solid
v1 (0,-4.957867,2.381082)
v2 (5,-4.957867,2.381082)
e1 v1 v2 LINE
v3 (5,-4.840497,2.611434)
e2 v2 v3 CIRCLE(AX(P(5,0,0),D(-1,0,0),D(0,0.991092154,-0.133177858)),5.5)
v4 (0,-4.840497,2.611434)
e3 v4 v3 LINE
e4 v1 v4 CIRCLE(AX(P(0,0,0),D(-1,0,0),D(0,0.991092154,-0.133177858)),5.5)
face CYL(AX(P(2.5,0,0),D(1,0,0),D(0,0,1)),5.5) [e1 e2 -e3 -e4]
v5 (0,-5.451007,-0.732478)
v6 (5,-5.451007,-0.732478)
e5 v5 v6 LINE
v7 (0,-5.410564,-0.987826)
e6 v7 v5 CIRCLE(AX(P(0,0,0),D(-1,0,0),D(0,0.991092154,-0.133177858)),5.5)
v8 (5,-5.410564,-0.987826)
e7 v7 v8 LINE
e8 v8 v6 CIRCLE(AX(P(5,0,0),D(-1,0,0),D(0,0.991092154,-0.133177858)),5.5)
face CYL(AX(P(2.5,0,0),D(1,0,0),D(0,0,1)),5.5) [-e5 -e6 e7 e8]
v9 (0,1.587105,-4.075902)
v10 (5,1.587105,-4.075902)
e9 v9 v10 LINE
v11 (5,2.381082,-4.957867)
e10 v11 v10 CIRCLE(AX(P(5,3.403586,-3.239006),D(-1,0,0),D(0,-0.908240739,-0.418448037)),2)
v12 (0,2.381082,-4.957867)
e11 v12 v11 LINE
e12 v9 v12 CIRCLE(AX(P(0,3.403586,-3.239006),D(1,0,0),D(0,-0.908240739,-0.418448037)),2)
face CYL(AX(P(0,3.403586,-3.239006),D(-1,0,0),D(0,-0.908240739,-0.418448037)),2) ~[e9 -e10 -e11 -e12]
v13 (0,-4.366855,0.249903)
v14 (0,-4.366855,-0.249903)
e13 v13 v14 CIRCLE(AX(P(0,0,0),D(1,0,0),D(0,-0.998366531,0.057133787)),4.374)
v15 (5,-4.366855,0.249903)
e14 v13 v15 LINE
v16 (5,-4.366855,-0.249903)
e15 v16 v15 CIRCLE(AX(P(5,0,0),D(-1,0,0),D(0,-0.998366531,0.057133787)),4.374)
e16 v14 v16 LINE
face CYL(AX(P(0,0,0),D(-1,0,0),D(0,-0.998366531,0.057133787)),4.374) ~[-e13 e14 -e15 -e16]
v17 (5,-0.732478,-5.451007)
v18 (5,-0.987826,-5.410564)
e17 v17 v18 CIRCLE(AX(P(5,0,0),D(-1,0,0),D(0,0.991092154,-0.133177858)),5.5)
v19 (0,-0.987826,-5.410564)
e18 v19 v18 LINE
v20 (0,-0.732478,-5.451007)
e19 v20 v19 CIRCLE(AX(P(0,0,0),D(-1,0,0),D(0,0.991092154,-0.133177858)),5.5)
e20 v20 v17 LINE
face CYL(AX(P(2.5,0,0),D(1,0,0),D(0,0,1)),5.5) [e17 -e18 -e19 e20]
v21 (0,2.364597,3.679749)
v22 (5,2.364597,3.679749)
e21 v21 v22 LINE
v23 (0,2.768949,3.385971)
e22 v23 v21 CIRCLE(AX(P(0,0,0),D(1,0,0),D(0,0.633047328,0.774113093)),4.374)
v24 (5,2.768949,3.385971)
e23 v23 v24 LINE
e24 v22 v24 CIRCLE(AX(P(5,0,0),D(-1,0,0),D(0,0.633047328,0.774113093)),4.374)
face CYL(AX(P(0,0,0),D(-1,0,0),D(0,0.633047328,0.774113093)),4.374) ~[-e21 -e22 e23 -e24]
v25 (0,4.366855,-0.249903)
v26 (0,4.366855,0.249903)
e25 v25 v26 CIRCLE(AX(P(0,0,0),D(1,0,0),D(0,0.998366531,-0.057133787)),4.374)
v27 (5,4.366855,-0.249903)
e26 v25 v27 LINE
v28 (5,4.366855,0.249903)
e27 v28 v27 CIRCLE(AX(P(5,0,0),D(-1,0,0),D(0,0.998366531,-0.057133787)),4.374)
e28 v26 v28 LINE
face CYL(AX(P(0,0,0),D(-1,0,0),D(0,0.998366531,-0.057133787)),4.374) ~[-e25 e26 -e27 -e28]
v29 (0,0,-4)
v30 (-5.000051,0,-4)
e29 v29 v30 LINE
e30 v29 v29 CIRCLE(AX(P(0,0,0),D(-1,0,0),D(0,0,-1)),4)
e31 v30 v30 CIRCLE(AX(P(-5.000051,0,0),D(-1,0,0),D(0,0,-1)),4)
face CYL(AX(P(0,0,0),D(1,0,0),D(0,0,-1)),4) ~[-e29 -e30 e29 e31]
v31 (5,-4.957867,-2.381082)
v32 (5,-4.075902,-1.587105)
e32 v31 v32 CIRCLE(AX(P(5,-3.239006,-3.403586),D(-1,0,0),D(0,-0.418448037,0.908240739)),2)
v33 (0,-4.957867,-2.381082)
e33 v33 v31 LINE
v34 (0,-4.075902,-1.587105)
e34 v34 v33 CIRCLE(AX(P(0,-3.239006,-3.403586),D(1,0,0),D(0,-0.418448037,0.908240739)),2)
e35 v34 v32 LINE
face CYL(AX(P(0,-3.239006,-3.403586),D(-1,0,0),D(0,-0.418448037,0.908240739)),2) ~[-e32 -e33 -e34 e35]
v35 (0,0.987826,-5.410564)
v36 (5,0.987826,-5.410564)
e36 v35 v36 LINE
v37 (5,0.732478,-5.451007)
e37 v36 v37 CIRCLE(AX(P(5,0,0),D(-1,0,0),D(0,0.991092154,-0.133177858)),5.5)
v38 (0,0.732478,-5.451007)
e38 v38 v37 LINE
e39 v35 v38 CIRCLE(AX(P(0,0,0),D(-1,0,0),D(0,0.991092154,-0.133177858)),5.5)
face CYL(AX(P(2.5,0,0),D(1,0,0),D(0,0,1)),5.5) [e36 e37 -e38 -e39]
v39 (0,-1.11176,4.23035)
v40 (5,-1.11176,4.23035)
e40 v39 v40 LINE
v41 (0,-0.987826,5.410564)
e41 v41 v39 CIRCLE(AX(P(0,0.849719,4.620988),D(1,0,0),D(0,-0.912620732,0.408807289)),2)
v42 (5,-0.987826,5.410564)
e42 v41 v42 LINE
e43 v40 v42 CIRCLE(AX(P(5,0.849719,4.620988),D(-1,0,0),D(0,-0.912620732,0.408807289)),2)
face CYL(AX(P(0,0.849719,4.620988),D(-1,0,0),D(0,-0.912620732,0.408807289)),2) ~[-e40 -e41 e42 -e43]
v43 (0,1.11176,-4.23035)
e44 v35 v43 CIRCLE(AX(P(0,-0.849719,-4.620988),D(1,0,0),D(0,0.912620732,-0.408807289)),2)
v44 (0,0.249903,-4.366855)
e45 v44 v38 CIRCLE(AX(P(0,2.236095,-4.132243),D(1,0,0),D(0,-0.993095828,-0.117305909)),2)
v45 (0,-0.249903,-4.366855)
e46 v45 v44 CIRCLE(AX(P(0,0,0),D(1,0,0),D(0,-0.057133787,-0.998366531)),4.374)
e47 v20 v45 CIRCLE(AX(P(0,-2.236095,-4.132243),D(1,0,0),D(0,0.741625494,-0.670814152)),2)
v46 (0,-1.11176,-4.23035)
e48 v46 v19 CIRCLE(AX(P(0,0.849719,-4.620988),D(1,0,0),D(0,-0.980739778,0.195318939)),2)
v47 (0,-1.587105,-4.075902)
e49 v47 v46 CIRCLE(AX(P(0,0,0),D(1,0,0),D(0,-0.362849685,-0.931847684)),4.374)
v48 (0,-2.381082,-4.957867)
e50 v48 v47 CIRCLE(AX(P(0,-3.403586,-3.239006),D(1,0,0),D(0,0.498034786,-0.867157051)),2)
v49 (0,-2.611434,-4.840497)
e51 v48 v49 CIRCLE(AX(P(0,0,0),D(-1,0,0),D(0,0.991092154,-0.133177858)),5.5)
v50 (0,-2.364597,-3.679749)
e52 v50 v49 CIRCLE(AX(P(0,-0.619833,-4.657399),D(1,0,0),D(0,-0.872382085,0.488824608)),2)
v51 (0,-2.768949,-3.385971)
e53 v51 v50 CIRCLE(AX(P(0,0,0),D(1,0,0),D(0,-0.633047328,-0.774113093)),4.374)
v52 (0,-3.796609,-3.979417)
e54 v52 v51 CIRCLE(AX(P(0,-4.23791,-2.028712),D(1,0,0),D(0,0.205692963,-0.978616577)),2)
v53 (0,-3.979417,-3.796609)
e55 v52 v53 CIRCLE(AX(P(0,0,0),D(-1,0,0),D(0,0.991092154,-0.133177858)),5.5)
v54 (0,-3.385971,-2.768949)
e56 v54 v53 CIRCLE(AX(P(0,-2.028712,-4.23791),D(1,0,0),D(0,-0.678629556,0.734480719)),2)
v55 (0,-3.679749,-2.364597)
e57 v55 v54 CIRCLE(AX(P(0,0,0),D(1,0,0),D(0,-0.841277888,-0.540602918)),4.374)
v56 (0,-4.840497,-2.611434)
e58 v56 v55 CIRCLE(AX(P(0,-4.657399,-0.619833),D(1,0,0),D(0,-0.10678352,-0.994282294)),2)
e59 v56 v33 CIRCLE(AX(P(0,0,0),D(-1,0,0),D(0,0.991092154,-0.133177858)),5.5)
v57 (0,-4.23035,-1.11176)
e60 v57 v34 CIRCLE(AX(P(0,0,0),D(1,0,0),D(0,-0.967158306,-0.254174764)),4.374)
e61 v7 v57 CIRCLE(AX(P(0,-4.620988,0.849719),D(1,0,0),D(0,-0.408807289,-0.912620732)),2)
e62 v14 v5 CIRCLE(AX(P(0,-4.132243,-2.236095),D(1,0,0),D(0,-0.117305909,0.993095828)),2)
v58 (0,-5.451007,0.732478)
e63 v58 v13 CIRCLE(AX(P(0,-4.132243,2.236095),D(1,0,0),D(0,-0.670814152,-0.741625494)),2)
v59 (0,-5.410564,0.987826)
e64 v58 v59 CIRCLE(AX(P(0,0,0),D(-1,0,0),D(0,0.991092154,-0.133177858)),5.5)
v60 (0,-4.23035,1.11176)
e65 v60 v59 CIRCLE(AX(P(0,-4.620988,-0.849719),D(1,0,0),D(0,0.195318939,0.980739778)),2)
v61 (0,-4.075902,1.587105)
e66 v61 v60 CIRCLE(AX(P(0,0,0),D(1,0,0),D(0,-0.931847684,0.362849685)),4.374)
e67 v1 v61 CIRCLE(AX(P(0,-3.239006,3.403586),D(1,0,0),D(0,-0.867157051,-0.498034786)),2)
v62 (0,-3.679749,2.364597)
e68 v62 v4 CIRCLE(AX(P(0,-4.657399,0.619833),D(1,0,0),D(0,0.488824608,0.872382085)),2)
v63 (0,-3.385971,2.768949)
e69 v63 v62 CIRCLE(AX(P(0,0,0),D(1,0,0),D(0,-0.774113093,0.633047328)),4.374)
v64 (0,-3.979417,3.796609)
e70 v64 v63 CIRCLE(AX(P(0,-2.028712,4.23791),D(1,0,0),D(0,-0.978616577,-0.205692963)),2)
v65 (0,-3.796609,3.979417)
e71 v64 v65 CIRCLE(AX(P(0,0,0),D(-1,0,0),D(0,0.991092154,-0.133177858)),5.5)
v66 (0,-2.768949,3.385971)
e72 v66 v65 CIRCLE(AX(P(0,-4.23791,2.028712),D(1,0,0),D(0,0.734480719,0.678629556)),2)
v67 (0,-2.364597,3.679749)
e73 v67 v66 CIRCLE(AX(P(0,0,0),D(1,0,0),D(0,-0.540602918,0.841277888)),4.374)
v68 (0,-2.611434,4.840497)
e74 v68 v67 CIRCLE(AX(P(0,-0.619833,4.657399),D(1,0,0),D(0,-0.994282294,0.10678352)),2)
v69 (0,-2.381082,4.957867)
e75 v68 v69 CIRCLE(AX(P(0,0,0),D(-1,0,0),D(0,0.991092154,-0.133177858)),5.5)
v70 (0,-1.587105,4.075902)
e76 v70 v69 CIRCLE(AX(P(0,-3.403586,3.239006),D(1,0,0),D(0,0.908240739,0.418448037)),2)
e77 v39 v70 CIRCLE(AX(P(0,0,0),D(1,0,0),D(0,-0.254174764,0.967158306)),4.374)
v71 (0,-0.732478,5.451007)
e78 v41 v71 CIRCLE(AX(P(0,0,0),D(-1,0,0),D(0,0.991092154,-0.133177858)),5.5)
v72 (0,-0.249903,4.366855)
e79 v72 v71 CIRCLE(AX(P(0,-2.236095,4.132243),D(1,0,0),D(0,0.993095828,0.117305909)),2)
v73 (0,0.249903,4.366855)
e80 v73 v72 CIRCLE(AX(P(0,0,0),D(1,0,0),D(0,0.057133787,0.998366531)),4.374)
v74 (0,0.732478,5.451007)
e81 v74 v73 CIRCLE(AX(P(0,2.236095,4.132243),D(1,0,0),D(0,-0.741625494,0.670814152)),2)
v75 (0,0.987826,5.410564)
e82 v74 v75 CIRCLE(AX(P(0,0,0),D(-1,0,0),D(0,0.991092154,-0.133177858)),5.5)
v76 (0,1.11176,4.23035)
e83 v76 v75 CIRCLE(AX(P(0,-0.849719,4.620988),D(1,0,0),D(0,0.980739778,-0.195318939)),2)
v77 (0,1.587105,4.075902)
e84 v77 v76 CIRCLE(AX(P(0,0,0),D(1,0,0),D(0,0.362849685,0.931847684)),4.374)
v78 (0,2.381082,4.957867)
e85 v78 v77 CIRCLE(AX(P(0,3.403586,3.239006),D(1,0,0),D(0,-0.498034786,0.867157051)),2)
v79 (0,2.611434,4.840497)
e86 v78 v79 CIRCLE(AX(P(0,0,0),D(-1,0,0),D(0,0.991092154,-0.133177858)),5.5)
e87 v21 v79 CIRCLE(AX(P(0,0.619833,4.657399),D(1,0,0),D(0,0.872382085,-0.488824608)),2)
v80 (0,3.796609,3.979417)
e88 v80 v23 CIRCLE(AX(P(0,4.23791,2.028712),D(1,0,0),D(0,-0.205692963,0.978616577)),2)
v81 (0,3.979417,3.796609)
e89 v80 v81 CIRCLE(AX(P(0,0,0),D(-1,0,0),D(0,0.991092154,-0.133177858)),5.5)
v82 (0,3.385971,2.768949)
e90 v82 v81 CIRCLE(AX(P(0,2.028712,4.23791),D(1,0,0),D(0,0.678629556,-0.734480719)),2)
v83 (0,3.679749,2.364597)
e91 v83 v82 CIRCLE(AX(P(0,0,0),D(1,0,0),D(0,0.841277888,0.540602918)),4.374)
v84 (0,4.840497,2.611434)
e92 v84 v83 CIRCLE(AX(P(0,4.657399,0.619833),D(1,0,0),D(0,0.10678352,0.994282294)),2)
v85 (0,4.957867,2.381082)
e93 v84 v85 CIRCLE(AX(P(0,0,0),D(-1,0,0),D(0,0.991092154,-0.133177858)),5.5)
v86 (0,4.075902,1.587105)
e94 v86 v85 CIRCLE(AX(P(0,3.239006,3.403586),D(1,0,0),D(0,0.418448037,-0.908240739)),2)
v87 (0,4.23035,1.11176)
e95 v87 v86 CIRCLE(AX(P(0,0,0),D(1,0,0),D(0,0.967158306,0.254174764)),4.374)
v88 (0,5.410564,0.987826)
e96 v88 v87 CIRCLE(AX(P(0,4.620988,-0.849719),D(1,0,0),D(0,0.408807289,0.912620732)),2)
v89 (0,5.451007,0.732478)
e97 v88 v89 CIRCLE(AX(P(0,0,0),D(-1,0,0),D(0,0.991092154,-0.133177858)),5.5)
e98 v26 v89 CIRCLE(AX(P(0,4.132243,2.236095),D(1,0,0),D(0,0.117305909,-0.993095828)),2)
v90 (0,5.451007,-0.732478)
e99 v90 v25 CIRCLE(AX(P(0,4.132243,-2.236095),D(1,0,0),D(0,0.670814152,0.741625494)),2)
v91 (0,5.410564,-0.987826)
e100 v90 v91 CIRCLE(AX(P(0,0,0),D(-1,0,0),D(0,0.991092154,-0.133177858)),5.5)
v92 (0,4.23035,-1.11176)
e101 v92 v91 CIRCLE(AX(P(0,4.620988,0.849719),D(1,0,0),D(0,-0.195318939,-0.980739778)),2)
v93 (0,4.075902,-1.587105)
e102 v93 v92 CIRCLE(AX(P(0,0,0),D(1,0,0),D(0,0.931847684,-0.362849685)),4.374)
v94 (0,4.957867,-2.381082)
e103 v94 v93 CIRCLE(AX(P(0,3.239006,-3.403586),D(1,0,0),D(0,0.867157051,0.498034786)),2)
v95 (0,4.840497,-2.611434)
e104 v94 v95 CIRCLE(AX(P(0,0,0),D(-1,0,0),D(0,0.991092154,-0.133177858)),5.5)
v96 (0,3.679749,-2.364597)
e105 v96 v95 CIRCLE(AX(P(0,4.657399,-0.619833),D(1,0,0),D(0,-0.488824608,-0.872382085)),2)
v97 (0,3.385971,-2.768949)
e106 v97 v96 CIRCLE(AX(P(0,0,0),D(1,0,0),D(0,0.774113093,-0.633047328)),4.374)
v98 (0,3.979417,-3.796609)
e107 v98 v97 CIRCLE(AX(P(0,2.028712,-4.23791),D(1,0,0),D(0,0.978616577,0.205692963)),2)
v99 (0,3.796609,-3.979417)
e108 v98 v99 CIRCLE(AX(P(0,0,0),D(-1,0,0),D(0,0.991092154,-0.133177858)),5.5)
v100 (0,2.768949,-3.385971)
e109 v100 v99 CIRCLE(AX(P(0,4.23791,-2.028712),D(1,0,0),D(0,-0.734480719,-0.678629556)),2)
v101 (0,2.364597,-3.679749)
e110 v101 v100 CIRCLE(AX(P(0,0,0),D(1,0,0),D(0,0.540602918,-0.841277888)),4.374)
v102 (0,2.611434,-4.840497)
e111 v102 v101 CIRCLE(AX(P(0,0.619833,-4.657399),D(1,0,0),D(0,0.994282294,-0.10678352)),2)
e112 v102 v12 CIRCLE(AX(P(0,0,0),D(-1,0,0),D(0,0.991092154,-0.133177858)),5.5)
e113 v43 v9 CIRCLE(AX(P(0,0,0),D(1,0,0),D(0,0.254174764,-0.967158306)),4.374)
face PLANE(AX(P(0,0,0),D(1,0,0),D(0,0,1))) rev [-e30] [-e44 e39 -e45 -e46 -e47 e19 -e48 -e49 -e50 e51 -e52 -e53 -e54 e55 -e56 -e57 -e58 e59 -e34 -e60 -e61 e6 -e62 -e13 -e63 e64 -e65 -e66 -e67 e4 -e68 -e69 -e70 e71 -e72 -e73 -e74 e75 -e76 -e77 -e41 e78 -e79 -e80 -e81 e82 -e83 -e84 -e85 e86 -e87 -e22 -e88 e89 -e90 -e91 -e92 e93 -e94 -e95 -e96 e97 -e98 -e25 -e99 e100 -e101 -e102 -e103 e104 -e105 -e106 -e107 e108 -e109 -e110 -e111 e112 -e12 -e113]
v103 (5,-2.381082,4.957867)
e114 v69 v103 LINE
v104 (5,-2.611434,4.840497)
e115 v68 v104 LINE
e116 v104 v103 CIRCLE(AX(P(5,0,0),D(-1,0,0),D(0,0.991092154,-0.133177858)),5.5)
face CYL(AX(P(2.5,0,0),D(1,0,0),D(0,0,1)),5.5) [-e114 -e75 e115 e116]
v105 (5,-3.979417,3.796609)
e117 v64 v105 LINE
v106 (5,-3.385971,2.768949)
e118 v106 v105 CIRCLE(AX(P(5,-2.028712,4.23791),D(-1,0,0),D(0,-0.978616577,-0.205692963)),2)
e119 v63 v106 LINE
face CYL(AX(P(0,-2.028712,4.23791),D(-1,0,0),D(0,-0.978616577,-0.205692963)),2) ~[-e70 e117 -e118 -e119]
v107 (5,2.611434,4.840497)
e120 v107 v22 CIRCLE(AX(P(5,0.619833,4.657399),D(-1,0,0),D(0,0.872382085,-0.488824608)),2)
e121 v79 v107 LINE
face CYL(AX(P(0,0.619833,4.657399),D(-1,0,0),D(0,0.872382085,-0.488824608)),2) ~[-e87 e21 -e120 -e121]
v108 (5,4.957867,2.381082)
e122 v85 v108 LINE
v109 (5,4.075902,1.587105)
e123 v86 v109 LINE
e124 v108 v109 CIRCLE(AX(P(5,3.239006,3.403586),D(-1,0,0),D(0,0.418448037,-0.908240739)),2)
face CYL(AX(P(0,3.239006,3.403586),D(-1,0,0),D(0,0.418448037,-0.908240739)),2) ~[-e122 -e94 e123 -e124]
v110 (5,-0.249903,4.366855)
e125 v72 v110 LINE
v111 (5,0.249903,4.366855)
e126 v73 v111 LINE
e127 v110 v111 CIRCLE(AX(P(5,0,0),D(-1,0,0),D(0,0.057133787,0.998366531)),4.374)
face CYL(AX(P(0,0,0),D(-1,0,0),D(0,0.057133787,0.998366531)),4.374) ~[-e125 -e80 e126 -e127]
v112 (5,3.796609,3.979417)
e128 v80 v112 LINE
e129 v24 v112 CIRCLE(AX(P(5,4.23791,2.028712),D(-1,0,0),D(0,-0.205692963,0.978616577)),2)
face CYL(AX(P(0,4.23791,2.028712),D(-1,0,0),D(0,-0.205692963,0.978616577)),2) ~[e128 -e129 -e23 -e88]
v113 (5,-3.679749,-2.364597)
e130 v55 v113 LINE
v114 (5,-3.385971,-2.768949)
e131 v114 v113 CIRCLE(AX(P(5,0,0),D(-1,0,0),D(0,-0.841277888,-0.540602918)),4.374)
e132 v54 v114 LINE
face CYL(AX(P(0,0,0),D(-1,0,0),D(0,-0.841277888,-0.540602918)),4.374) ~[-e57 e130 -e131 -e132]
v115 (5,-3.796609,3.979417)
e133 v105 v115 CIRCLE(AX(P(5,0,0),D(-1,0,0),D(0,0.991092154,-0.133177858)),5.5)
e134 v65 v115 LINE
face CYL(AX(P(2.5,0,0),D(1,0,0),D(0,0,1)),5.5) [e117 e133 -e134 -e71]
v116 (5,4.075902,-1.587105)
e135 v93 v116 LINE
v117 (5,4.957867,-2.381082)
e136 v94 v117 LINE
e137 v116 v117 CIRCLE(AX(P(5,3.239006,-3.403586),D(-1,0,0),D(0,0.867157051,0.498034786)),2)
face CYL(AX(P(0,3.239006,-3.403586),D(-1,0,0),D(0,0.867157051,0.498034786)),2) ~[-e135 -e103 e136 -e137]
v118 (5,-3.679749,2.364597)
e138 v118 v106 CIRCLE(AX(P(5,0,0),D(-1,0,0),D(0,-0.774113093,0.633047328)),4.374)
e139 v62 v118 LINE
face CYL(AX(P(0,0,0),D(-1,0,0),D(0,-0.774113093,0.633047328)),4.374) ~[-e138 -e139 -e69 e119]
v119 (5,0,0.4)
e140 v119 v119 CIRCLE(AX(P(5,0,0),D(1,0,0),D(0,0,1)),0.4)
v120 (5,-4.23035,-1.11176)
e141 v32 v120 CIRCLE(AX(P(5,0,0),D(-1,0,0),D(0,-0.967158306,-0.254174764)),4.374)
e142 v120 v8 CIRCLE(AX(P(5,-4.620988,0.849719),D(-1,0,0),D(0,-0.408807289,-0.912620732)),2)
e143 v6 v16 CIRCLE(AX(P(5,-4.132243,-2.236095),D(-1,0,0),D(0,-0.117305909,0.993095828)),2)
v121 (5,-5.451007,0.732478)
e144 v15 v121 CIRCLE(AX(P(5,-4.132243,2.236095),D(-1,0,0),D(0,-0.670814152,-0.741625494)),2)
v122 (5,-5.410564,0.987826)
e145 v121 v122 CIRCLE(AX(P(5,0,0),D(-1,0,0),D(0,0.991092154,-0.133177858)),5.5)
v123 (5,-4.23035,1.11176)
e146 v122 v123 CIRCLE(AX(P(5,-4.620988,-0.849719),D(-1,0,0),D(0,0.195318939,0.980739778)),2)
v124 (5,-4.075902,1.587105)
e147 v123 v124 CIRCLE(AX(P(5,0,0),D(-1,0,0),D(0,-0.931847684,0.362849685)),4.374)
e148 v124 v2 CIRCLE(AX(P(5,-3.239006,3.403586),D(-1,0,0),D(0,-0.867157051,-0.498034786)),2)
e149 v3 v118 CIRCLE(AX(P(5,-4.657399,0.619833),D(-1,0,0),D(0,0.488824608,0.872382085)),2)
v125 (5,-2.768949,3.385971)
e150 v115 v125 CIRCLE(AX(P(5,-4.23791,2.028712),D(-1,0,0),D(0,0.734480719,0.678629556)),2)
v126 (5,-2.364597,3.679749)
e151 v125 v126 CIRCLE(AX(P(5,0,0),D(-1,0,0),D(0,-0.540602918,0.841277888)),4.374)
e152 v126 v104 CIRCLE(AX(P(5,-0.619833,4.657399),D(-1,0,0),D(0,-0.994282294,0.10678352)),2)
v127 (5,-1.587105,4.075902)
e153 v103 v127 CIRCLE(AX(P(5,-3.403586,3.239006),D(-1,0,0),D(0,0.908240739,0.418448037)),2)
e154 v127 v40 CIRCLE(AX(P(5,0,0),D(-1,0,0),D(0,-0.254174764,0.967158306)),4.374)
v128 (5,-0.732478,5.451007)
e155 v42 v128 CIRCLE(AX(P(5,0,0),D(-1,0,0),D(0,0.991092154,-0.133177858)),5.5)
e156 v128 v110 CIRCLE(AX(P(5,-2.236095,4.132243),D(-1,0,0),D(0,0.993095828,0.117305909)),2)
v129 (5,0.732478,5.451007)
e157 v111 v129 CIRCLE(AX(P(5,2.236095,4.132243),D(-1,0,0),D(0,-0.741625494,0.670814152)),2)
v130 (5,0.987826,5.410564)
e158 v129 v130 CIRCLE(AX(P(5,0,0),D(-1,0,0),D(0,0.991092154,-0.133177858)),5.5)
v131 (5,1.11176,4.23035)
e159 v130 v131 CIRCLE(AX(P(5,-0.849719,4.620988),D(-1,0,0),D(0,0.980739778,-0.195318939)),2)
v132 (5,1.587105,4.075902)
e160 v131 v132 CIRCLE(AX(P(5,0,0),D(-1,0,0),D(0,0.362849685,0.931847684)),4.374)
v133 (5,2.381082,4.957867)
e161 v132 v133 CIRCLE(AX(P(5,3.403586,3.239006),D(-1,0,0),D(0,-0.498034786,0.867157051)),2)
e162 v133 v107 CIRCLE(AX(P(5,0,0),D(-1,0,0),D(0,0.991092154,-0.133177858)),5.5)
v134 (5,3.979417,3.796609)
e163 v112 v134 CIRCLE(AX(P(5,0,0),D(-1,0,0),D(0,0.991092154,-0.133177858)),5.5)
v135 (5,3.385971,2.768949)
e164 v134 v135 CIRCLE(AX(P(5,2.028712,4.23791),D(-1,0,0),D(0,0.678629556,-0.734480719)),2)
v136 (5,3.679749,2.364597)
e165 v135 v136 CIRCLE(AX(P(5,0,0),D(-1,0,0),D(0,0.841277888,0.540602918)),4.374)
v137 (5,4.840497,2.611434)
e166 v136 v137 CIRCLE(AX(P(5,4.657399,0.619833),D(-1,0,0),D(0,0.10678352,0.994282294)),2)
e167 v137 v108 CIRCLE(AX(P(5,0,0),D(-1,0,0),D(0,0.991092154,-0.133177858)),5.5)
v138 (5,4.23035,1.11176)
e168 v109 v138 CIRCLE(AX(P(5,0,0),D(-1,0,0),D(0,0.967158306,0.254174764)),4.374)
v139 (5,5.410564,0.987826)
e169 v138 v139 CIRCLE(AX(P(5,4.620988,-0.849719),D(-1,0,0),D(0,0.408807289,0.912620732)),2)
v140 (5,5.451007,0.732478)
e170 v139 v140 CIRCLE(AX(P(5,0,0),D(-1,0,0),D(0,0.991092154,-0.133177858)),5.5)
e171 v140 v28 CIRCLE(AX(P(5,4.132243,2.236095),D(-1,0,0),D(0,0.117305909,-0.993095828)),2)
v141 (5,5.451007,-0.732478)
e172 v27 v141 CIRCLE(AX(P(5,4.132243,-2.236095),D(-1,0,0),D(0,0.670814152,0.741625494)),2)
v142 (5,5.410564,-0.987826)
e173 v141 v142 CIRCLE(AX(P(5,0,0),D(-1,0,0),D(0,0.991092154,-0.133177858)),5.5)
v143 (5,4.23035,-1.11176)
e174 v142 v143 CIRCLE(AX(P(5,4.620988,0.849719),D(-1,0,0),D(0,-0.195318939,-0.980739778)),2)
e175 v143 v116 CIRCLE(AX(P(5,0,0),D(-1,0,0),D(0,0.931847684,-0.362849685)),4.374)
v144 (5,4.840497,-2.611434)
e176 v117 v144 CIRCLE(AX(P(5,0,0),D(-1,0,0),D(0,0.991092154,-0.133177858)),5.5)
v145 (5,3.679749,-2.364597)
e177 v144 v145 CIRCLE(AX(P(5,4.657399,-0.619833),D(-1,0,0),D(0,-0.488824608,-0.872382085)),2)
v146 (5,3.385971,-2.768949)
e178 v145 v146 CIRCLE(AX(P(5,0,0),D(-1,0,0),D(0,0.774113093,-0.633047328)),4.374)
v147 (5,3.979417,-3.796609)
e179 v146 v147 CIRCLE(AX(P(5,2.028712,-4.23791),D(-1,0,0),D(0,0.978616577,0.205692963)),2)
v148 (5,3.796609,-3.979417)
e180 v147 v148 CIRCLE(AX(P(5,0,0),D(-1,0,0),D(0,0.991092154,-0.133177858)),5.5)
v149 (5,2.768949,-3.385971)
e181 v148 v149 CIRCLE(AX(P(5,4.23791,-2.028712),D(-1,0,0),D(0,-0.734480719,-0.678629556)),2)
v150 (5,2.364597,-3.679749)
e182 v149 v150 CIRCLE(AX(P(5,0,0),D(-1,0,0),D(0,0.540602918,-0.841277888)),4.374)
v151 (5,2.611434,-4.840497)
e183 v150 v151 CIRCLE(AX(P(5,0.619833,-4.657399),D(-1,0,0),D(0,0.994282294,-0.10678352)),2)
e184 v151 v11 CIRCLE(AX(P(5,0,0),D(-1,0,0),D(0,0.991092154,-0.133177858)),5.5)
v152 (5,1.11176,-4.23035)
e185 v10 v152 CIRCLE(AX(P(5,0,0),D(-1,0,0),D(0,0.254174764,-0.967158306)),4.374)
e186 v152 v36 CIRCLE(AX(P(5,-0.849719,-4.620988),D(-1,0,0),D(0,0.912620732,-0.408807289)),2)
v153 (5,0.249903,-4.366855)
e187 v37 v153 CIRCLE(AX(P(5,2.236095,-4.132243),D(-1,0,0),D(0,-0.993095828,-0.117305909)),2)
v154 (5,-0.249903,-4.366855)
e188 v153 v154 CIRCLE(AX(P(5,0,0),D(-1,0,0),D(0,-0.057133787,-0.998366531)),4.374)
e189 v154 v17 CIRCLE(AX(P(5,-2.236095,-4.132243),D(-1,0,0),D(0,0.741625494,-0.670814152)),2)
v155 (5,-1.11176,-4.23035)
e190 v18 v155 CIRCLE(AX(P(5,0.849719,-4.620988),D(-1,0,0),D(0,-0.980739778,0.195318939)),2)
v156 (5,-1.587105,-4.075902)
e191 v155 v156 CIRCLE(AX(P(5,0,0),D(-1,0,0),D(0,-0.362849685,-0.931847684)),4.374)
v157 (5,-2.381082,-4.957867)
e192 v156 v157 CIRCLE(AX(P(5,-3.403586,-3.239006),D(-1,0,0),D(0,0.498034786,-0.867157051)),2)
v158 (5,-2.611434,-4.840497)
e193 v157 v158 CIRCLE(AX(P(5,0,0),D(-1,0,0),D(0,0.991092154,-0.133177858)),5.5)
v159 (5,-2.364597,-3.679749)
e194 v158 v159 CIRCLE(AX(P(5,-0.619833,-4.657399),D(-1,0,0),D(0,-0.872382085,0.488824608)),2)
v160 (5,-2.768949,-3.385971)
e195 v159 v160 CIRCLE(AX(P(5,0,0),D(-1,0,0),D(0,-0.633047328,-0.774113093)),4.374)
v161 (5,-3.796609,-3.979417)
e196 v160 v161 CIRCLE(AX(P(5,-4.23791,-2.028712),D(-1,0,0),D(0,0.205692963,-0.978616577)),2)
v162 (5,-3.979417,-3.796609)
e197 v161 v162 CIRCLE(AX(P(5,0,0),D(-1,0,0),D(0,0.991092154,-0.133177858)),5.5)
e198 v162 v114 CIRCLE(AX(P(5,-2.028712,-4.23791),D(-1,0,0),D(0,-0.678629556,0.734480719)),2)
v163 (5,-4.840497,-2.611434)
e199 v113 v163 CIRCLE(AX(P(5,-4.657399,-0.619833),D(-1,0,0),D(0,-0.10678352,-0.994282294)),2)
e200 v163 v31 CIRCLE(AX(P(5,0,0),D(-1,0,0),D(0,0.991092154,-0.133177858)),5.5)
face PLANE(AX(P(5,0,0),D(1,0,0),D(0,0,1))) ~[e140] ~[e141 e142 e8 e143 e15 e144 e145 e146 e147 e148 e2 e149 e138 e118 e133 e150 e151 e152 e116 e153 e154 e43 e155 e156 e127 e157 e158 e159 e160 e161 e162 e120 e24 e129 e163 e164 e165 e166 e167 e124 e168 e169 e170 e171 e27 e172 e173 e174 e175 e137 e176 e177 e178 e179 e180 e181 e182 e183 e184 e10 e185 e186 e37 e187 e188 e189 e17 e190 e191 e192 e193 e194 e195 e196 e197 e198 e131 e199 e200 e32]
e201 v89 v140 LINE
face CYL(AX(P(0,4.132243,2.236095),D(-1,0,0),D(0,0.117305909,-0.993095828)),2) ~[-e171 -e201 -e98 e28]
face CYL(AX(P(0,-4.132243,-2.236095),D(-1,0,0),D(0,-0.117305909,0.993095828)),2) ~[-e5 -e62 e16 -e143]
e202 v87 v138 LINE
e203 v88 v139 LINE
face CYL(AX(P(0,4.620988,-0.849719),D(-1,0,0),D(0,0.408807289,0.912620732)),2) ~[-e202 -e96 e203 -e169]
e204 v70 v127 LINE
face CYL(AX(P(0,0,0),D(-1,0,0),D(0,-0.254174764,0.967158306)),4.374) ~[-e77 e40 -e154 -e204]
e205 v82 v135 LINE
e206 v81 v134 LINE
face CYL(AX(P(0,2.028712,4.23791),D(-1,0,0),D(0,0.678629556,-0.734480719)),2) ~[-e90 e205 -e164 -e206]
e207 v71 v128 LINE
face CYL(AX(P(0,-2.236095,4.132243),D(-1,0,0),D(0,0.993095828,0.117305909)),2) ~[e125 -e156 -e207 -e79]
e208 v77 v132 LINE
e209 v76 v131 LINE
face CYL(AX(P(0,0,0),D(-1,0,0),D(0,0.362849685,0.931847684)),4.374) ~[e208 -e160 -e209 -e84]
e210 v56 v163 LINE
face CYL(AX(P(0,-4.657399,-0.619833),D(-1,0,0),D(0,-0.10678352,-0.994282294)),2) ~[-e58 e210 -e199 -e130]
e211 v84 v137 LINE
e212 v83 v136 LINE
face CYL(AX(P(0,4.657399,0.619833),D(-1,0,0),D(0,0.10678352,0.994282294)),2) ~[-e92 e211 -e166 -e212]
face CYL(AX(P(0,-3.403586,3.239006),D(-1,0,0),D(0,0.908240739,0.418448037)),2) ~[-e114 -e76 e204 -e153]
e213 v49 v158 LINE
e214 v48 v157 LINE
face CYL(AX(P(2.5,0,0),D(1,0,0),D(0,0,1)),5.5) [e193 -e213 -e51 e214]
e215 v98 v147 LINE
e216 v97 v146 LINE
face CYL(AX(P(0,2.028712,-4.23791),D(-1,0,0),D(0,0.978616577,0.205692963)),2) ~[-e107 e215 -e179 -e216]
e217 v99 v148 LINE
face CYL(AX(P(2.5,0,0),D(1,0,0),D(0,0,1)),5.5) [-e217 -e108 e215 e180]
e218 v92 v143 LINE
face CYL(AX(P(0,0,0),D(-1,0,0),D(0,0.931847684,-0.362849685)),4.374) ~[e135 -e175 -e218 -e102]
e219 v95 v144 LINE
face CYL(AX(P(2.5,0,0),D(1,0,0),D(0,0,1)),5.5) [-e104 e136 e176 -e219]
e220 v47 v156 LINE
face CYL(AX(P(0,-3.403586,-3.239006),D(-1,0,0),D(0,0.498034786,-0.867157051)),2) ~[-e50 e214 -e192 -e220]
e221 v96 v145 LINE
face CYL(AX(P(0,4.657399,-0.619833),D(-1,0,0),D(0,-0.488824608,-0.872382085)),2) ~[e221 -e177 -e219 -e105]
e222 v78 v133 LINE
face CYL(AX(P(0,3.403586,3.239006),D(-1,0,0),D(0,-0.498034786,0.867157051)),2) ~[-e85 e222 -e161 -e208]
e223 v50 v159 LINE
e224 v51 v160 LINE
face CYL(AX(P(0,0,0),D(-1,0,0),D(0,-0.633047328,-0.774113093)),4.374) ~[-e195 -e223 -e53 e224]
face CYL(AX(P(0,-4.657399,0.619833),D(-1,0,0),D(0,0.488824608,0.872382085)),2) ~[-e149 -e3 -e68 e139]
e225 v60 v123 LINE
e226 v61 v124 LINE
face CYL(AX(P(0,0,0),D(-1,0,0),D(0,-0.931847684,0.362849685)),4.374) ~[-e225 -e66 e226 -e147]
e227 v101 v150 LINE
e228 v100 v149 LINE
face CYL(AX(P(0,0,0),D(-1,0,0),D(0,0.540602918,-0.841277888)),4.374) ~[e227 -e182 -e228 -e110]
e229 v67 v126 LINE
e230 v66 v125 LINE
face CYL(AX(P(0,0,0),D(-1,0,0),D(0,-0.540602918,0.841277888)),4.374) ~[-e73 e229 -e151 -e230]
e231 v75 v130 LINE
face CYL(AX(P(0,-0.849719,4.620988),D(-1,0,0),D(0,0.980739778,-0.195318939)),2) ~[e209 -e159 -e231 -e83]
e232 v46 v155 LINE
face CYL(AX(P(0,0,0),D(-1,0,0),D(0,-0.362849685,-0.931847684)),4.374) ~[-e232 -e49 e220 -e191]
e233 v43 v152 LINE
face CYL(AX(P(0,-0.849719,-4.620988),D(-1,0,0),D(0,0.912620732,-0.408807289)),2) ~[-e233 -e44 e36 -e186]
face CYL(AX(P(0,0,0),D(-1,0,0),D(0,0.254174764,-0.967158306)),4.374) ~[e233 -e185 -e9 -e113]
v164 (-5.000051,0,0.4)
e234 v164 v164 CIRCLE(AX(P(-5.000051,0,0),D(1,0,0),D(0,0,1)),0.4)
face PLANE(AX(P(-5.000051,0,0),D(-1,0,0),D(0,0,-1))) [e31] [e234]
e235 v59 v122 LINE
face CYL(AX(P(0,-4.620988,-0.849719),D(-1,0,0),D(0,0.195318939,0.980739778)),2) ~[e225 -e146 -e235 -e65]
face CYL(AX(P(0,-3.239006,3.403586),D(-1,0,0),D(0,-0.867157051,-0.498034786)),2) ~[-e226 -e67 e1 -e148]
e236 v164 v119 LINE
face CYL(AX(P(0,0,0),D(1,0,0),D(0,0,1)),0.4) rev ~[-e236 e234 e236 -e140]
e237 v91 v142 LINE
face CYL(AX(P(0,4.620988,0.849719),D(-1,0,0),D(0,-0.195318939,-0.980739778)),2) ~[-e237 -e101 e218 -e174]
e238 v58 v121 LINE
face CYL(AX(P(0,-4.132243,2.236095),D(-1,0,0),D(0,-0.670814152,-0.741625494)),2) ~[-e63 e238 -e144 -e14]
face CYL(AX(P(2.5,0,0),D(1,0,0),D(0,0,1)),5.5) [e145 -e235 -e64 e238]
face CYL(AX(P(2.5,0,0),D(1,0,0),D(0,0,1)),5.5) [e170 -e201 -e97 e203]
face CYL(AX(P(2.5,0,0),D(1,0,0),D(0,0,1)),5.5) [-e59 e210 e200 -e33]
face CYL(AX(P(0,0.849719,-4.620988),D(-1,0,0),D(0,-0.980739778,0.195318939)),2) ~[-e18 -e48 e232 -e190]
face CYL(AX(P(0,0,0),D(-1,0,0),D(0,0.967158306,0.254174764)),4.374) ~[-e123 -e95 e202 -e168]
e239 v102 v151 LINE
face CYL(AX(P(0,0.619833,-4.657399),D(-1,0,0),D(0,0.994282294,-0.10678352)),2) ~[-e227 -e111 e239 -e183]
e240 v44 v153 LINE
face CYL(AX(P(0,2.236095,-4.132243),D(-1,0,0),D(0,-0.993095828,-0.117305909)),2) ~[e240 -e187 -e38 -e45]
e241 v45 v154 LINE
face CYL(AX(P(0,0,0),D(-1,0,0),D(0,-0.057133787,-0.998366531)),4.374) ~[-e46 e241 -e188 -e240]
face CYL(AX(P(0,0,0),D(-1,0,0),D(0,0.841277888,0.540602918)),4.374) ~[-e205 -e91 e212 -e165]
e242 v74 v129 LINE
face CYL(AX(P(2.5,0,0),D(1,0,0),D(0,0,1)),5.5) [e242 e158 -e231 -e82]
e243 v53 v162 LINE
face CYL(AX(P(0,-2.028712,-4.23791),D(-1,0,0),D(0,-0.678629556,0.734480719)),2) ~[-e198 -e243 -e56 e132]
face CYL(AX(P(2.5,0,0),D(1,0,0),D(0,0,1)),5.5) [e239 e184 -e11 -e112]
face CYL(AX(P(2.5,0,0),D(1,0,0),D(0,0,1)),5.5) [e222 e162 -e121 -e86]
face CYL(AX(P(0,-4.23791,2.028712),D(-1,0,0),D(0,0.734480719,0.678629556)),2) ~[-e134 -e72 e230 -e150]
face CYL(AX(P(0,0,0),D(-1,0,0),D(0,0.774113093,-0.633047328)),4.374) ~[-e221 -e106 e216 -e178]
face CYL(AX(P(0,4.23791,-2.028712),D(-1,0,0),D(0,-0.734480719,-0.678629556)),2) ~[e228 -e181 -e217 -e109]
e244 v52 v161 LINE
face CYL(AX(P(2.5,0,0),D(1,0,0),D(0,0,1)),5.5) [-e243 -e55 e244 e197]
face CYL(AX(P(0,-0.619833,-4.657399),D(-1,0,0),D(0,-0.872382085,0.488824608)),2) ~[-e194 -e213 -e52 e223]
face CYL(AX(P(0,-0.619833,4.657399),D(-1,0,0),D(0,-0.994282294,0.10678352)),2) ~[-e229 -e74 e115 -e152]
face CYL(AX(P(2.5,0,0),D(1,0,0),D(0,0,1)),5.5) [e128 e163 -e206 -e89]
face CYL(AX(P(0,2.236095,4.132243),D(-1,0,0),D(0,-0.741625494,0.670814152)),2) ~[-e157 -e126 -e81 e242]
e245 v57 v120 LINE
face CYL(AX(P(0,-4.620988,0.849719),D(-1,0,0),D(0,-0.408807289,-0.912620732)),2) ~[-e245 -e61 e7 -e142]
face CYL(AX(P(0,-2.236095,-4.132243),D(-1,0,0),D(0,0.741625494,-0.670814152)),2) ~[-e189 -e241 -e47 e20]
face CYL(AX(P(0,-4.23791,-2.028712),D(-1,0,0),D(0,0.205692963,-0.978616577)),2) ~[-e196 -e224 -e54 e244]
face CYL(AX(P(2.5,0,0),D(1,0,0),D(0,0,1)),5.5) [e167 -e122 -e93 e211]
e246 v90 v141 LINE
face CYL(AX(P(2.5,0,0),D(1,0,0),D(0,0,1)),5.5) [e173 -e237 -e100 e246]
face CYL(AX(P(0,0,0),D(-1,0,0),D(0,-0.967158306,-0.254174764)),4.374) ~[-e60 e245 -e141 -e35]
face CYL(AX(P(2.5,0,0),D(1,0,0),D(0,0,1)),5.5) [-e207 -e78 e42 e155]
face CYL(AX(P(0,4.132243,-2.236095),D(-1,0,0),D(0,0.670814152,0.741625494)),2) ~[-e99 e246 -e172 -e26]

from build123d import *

# Parameters (mm, degrees)
BASPROSKE_W      = 5
BASPROSKE_H      = 5.5
TOOTHCUT_DEPTH   = 10.246621004
TEETHCUTS_COUNT  = 20
TEETHCUTS_ANGLE  = 342
HUBNEAONESKE_R   = 4
HUBNEARONE_DEPTH = 5.0000508
BORSKE_R         = 0.4
BORE_DEPTH       = 10.0000508


with BuildPart() as part:
    # BasProSke → Base-Revolve (revolve)
    with BuildSketch(Plane(origin=(0, 0, 0), x_dir=(1, 0, 0), z_dir=(0, 1, 0)), mode=Mode.PRIVATE) as base_revolve_sk:
        with Locations((2.5, 2.75)):
            Rectangle(BASPROSKE_W, BASPROSKE_H)
    revolve(base_revolve_sk.sketch.rotate(Axis((-10, 0, 0), (1, 0, 0)), 180), axis=Axis((-10, 0, 0), (1, 0, 0)))

    # TooCutSke → ToothCut (cut, through all)
    with BuildSketch(Plane(origin=(0, 0, 0), x_dir=(0, 0, -1), z_dir=(1, 0, 0))):
        with BuildLine():
            ThreePointArc((0.249903181, 4.366855207), (0, 4.374), (-0.249903181, 4.366855207))
            ThreePointArc((-0.249903181, 4.366855207), (-0.415207844, 4.95951031), (-0.752843848, 5.473871692))
            ThreePointArc((-0.752843848, 5.473871692), (0, 5.5254), (0.752843848, 5.473871692))
            ThreePointArc((0.752843848, 5.473871692), (0.415207844, 4.95951031), (0.249903181, 4.366855207))
        make_face()
    toothcut = extrude(amount=TOOTHCUT_DEPTH, mode=Mode.SUBTRACT)

    # TeethCuts: ToothCut ×20 about axis
    teethcuts_axis = Axis((-10, 0, 0), (1, 0, 0))
    for i in range(1, TEETHCUTS_COUNT):
        add(toothcut.rotate(teethcuts_axis, i * TEETHCUTS_ANGLE / (TEETHCUTS_COUNT - 1)), mode=Mode.SUBTRACT)

    # HubNeaOneSke → HubNearOne (add)
    with BuildSketch(Plane.ZY):
        with Locations(Location((0, 0, 0), (0, 0, 180))):
            Circle(HUBNEAONESKE_R)
    extrude(amount=HUBNEARONE_DEPTH)

    # BorSke → Bore (cut, symmetric)
    with BuildSketch(Plane(origin=(0, 0, 0), x_dir=(0, 0, -1), z_dir=(1, 0, 0))):
        with Locations(Location((0, 0, 0), (0, 0, 180))):
            Circle(BORSKE_R)
    extrude(amount=BORE_DEPTH, both=True, mode=Mode.SUBTRACT)


solid = part.part
